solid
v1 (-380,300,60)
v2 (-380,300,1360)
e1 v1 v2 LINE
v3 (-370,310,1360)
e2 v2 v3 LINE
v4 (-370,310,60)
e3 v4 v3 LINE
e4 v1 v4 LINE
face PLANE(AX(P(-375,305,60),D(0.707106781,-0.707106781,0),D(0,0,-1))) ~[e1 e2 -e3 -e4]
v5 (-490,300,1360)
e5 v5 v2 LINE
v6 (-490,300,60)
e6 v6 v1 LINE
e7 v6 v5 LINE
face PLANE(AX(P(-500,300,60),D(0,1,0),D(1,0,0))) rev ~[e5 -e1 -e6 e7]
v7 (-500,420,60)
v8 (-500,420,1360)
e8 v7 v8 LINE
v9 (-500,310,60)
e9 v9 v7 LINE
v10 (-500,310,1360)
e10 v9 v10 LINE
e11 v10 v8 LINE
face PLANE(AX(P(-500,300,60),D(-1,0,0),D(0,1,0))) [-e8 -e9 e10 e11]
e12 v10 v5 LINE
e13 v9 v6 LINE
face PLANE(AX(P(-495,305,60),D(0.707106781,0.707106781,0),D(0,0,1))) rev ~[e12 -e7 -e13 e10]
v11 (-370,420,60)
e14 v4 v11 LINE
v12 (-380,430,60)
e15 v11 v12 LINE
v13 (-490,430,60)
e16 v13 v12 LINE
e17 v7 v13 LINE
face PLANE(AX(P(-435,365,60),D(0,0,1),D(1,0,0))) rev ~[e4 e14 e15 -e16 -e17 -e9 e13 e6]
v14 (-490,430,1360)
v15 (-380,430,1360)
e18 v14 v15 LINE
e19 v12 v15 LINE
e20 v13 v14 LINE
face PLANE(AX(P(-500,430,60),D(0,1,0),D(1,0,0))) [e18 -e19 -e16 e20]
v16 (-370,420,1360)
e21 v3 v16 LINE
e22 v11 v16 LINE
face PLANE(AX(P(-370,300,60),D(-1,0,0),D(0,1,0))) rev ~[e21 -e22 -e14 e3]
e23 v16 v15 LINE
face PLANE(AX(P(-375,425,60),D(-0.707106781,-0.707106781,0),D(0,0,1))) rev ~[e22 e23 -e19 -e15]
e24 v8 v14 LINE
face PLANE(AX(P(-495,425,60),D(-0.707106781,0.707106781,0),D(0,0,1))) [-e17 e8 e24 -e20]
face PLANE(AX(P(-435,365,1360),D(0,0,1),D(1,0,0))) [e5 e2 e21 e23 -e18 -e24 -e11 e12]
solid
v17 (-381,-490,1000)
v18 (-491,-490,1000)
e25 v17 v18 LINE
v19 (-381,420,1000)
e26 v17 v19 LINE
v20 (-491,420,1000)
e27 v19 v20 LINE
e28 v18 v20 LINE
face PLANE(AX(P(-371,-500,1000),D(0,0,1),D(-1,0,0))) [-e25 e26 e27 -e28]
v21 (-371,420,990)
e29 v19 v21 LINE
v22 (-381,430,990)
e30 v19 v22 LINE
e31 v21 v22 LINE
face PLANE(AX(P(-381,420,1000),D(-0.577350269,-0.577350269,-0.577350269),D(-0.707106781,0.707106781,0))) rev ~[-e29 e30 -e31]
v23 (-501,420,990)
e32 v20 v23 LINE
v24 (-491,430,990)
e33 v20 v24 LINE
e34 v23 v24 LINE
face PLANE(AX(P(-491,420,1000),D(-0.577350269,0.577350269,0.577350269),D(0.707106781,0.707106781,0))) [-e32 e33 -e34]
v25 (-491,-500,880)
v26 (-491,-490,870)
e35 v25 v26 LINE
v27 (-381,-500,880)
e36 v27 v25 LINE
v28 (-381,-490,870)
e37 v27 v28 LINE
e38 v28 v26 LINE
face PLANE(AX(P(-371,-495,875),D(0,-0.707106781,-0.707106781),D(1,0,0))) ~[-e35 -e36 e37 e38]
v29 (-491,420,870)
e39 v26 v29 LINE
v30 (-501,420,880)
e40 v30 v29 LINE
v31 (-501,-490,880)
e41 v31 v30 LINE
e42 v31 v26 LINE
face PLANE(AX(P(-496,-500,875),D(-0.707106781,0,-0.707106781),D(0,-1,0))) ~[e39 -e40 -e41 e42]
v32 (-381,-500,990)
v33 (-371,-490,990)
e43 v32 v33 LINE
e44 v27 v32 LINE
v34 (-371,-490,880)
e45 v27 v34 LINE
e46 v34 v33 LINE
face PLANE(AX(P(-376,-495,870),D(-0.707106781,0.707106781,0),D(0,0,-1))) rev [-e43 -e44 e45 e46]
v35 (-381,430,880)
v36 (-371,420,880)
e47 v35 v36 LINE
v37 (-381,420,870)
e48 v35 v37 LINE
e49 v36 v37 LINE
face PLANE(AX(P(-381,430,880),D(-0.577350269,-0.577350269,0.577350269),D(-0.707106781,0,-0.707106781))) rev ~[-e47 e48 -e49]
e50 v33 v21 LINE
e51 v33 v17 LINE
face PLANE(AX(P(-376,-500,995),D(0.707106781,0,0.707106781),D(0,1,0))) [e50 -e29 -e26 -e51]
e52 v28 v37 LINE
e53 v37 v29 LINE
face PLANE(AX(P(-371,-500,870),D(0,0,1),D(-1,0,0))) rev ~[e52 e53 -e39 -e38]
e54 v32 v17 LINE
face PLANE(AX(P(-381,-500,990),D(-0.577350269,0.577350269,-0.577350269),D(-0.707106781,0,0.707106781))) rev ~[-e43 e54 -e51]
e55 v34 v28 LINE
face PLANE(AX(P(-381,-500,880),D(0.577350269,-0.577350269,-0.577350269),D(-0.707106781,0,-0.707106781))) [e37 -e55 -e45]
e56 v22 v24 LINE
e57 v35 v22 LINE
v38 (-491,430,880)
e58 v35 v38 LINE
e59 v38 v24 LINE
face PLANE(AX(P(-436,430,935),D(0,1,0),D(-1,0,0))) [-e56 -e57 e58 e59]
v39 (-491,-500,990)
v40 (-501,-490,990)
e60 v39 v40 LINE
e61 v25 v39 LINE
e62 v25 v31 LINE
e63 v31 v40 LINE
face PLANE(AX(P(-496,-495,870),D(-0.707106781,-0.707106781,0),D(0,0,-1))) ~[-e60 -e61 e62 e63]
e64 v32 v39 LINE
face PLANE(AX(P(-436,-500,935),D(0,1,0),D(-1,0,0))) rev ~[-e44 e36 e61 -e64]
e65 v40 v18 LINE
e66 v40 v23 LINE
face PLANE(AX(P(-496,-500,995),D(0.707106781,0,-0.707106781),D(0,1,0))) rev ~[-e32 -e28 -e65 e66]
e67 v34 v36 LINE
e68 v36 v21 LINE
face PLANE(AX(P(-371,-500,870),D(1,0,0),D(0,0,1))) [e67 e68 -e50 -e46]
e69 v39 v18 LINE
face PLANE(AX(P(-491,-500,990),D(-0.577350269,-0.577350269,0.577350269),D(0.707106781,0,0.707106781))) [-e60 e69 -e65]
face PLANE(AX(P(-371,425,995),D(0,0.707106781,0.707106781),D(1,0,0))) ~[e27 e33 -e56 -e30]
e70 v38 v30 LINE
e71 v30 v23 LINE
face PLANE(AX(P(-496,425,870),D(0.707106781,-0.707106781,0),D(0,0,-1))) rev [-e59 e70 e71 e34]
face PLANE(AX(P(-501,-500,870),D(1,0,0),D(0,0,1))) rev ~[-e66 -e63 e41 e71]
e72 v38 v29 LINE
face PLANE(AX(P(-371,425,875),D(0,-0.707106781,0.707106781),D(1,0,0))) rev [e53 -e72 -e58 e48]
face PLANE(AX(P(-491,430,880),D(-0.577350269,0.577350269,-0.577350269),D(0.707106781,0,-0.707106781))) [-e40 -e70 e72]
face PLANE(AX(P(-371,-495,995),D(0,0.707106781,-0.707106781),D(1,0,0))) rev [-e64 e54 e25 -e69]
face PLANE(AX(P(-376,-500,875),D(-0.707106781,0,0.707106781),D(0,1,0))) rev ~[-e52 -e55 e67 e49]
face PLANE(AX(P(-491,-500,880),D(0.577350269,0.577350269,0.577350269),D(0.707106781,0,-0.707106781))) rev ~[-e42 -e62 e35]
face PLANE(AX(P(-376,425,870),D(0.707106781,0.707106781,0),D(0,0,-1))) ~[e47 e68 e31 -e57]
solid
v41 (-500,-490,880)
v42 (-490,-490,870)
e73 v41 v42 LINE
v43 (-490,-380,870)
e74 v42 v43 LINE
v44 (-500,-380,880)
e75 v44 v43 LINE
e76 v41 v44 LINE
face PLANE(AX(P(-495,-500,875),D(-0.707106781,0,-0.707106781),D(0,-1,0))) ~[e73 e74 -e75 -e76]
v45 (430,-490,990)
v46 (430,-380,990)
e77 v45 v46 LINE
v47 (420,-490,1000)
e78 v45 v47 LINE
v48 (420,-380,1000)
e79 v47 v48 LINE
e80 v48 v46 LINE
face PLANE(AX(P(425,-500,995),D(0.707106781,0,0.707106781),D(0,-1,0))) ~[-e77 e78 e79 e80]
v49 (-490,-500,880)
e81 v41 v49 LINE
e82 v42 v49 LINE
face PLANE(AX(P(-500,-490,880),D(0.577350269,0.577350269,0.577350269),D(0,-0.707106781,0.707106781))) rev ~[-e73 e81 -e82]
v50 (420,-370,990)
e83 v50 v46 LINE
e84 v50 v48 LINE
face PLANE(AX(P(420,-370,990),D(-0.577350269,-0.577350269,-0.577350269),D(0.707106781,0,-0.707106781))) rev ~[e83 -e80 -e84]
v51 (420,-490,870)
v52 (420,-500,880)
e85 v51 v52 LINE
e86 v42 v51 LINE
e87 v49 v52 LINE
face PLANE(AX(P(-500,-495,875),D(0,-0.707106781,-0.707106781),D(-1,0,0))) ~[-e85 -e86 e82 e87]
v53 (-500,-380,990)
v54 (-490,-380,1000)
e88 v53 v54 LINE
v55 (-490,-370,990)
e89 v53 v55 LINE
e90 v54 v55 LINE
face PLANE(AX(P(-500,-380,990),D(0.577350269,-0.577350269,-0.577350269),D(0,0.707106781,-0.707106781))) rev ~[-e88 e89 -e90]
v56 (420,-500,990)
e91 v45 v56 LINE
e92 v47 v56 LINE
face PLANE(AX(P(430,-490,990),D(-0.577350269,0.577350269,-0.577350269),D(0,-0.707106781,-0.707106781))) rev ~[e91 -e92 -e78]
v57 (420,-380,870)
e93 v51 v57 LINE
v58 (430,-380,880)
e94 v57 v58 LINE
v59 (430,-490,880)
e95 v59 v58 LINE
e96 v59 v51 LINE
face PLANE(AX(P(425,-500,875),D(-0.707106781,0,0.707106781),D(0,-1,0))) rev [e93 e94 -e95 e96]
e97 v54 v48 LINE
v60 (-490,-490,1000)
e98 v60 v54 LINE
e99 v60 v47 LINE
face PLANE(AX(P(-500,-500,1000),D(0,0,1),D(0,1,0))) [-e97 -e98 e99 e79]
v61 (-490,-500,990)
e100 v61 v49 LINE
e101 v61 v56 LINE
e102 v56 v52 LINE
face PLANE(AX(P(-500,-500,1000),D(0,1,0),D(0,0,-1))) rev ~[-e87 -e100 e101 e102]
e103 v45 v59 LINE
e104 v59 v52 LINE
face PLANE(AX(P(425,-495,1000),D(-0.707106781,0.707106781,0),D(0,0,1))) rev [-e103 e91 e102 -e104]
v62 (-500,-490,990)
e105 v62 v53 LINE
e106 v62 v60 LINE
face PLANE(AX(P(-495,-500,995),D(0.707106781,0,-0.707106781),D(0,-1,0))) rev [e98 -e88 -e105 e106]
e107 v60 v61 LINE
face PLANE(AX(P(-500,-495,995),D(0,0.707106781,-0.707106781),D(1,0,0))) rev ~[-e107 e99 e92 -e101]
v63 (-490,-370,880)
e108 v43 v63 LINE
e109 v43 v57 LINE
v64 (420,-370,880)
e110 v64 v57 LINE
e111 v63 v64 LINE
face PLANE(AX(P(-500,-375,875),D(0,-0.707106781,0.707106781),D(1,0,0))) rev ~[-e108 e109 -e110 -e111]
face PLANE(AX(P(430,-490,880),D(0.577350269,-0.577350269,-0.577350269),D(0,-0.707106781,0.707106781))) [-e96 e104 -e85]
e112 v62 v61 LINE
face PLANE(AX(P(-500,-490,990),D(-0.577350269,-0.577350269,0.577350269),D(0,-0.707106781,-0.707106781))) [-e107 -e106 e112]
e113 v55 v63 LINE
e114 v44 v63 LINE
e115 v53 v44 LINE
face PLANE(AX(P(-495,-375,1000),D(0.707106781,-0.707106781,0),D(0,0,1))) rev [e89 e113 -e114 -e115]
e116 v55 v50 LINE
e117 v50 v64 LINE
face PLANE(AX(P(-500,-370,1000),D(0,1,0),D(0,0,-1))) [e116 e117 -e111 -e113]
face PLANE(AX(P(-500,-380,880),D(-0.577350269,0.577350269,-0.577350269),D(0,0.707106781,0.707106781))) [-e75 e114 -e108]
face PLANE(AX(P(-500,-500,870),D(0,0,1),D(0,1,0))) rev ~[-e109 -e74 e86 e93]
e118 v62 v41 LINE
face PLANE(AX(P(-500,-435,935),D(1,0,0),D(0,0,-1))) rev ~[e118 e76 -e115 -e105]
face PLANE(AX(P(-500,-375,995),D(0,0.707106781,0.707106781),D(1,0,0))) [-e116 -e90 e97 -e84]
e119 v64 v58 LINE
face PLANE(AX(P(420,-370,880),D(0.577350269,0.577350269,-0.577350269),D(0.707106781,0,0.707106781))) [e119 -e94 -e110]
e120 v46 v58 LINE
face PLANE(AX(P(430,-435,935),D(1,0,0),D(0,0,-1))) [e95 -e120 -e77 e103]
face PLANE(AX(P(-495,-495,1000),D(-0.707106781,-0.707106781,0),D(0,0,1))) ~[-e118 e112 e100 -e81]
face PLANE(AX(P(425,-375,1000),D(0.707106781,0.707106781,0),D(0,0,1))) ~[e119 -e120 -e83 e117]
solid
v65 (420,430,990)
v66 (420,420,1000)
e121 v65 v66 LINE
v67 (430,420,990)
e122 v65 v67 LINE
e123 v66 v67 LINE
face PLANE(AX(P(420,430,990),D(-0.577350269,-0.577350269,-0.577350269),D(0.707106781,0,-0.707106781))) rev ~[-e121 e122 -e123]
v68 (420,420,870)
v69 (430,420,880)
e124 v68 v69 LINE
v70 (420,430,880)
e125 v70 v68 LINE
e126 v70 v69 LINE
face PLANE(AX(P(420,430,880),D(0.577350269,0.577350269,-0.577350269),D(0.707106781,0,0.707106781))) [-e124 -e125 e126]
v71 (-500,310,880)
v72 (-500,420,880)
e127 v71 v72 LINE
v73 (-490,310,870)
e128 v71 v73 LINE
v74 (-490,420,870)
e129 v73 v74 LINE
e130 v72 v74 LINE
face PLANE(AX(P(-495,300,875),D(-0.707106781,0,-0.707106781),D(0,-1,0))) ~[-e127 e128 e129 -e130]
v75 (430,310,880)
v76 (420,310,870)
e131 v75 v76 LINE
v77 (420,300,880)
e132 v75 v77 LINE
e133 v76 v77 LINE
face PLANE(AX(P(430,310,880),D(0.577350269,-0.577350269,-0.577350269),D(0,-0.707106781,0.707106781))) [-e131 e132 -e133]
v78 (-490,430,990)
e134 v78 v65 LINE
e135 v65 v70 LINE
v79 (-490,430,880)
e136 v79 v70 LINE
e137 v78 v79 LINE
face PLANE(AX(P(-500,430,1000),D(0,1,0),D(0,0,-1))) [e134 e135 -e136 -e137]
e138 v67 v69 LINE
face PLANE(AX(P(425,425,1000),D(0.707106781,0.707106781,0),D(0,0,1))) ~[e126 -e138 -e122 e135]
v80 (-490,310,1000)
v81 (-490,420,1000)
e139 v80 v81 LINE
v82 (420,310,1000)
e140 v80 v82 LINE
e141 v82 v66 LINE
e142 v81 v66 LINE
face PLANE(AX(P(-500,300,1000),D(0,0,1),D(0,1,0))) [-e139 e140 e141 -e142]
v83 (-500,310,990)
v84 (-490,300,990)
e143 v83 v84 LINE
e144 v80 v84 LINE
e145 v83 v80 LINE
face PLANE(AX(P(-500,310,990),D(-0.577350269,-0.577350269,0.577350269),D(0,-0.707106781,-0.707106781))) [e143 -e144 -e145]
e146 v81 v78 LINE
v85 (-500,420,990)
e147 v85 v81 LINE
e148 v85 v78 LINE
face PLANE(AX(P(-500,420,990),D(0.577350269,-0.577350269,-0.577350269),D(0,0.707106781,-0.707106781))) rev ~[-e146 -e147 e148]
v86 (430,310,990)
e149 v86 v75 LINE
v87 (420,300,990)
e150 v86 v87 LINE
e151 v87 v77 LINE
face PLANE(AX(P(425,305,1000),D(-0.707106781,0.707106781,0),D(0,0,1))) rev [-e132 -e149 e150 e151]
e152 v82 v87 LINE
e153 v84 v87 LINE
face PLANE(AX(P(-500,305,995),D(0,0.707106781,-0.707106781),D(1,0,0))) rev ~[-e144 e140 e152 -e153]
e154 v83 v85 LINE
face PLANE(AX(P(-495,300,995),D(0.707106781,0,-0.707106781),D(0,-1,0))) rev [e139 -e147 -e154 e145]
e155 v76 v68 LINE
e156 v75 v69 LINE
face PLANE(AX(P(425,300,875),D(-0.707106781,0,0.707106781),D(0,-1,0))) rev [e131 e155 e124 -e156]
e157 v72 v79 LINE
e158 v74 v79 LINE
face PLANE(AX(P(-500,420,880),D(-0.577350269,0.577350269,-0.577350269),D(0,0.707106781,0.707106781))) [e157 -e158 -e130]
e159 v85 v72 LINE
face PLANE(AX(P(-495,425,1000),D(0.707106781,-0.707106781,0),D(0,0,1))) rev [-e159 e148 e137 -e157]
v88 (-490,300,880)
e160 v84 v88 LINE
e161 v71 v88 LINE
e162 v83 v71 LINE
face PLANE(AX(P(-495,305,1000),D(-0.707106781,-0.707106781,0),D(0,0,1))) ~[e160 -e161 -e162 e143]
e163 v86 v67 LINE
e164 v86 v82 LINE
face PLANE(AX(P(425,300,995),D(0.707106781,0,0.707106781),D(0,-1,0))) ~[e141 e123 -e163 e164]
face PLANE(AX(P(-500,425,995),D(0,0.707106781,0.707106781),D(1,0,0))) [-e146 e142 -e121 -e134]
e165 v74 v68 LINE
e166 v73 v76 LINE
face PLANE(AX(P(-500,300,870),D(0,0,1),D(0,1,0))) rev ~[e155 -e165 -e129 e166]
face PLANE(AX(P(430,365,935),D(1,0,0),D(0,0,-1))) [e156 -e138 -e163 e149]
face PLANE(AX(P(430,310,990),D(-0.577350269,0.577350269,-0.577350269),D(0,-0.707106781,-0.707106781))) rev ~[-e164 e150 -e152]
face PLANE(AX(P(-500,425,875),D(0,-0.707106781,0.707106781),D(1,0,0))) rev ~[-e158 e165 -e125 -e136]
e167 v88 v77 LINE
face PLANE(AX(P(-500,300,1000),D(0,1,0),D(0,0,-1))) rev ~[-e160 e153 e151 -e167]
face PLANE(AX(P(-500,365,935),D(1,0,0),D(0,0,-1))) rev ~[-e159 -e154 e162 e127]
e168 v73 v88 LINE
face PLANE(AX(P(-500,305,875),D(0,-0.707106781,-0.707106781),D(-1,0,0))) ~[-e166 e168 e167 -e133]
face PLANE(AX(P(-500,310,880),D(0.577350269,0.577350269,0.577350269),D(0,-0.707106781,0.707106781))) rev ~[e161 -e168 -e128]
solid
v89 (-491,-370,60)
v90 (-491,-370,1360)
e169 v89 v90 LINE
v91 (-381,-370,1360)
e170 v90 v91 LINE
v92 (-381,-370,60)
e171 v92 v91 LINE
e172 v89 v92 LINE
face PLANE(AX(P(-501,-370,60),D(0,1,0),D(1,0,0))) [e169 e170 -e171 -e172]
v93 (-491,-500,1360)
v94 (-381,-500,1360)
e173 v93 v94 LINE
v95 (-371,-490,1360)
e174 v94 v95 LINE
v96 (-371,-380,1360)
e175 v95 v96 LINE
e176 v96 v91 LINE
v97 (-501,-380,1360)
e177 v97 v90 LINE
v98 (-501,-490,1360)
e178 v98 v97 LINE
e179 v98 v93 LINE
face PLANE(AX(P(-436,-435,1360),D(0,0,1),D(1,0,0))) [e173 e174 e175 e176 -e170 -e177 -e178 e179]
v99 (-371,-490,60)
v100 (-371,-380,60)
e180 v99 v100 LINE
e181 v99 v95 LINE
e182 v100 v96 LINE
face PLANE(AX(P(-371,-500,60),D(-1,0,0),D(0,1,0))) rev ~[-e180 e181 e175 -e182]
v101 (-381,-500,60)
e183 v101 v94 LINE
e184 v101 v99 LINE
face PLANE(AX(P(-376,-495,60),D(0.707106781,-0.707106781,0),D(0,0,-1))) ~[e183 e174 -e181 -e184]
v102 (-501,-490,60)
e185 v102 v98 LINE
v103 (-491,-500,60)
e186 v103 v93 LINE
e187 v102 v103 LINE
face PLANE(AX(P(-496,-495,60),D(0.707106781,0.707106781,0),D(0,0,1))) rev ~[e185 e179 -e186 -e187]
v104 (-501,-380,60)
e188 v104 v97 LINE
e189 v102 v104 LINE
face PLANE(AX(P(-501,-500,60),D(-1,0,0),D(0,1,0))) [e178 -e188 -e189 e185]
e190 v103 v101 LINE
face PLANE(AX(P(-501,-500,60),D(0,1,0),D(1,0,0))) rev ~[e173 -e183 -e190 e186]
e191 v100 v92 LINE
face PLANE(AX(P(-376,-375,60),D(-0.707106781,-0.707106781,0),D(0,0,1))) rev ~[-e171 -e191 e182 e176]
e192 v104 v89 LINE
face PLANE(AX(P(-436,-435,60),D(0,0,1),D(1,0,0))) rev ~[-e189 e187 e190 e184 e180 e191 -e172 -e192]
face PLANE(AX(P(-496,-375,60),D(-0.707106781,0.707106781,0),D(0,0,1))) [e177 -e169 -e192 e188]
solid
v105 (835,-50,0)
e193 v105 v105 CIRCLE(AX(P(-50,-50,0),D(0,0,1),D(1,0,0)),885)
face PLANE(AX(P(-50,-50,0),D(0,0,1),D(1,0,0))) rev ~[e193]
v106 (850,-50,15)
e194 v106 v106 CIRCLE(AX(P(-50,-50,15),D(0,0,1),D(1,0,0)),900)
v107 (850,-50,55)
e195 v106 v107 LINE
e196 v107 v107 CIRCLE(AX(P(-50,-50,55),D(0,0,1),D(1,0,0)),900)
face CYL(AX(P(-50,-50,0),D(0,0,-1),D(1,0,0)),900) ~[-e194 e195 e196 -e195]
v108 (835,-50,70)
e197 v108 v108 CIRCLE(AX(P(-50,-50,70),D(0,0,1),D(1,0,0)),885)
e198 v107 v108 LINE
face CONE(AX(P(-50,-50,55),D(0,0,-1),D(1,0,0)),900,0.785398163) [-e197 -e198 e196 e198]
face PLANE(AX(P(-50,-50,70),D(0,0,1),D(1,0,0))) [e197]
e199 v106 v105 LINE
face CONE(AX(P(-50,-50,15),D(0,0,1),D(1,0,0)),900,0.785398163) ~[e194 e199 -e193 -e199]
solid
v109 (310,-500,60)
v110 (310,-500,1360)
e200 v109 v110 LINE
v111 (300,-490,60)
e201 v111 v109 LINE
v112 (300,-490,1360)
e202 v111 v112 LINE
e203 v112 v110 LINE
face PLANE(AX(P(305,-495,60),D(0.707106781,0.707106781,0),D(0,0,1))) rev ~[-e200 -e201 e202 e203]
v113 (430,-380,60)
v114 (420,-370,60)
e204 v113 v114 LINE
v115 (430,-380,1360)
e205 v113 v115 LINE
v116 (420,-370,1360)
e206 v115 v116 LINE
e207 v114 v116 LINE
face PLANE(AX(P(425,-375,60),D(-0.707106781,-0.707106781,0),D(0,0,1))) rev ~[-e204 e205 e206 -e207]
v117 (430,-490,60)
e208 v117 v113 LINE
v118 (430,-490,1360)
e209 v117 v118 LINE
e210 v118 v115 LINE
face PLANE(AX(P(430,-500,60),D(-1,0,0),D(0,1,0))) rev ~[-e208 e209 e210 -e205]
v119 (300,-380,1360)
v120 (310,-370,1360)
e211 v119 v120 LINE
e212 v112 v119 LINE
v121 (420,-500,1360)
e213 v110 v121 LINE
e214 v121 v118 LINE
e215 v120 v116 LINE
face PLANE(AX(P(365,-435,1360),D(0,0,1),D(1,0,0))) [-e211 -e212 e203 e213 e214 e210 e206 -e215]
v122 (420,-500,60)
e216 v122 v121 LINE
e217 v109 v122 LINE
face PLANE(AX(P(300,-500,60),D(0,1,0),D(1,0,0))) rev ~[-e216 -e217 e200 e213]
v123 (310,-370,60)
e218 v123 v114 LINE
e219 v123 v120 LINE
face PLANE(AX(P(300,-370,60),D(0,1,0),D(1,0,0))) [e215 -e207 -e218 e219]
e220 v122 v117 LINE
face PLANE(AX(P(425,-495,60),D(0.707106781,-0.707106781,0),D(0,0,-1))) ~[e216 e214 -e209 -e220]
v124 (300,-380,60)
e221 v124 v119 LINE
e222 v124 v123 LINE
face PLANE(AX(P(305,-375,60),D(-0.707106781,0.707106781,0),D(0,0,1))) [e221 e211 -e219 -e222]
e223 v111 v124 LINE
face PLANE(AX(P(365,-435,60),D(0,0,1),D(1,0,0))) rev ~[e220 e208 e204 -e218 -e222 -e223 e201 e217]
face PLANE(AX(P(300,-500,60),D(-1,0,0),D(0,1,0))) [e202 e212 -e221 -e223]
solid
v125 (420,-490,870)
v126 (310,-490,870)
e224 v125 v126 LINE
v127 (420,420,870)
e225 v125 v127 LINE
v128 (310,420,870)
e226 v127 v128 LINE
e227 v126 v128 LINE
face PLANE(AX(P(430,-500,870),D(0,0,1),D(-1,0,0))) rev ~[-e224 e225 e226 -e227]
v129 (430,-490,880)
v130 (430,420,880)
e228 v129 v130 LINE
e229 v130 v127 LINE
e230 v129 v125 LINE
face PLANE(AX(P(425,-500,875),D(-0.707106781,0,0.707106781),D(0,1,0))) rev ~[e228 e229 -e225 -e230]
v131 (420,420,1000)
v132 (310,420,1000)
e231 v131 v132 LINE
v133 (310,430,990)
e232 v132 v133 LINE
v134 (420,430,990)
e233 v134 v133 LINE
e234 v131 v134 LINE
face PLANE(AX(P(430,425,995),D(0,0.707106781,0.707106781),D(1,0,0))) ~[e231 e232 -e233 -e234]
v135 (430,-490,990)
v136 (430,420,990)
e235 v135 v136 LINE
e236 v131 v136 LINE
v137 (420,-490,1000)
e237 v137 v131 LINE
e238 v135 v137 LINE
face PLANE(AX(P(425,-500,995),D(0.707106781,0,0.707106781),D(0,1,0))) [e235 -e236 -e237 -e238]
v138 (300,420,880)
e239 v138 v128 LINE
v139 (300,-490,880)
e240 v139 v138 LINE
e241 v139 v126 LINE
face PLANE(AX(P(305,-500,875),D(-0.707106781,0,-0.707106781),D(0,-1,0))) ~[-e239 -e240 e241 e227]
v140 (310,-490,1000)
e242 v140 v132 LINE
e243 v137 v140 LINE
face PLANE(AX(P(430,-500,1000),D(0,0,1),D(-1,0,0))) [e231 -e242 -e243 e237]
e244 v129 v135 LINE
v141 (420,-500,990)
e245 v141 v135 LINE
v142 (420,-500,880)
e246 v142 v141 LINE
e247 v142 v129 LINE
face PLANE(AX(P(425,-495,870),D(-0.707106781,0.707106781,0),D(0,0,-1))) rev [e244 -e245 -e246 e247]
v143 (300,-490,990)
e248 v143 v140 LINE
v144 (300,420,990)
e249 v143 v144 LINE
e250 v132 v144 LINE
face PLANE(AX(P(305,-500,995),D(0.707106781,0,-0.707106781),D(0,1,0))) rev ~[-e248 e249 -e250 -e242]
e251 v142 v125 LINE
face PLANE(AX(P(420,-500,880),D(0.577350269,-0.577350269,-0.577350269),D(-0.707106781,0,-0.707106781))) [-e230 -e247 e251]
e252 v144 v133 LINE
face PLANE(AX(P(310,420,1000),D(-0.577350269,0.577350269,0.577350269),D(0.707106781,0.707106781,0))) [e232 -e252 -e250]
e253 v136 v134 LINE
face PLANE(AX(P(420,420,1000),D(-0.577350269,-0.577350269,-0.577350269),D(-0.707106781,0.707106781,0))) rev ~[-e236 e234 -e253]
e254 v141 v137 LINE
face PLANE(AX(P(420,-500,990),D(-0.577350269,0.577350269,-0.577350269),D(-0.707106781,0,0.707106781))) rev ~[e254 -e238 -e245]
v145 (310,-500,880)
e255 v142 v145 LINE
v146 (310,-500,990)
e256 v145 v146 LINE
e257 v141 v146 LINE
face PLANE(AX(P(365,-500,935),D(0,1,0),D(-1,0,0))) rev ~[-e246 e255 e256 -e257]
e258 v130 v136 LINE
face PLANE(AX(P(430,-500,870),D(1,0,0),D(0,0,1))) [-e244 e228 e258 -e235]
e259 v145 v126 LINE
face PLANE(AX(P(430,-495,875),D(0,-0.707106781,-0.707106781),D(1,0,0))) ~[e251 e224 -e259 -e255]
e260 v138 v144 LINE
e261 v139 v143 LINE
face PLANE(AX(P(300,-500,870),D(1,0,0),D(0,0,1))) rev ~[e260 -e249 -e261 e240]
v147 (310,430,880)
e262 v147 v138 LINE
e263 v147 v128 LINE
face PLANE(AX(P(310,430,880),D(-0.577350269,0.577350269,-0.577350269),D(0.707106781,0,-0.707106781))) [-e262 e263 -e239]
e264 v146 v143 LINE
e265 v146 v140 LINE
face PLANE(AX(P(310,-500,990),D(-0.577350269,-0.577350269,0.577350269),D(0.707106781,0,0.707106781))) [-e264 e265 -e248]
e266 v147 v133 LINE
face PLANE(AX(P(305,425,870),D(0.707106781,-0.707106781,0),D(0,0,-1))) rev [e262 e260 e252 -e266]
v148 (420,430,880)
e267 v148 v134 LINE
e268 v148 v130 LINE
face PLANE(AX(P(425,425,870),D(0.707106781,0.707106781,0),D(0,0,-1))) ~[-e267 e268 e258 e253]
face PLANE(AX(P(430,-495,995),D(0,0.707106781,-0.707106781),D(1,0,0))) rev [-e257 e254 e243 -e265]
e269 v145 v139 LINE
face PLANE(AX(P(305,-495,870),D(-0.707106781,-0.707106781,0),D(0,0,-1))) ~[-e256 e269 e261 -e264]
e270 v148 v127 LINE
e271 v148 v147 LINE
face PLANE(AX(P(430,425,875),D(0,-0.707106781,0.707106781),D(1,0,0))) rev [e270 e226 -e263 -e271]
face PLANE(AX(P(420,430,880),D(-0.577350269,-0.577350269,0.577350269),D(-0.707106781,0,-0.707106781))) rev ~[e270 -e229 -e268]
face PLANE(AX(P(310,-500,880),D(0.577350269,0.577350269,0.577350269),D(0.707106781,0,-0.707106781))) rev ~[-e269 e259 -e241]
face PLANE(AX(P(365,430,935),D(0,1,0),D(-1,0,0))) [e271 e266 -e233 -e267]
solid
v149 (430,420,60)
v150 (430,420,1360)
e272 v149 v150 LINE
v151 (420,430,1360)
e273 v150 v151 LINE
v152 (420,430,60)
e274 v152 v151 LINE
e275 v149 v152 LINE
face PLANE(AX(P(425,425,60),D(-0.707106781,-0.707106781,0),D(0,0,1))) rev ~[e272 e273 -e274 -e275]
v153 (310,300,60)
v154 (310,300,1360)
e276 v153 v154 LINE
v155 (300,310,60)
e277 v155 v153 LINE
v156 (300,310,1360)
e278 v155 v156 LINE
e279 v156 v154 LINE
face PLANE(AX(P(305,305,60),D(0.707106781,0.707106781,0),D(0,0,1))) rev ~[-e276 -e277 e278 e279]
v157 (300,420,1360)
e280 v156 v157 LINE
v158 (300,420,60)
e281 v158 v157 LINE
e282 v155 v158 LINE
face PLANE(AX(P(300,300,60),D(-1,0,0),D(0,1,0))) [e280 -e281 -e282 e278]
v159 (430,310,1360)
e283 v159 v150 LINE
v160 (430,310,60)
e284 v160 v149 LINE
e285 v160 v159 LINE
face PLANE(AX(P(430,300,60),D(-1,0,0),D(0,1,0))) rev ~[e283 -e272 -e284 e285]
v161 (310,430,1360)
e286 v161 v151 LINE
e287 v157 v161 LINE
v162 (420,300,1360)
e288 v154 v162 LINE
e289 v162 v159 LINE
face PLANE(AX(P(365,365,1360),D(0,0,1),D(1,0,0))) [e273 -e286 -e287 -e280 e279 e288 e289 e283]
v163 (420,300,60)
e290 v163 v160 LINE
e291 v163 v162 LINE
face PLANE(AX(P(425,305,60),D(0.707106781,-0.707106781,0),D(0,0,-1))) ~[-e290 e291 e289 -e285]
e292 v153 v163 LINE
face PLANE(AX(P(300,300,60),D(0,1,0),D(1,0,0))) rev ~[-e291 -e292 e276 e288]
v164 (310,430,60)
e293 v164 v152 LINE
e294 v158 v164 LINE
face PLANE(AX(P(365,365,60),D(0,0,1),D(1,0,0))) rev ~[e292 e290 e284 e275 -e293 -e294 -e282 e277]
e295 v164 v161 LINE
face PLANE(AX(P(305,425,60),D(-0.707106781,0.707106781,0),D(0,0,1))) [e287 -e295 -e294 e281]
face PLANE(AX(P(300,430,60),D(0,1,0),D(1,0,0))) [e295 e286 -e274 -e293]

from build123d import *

# Parameters (mm, degrees)
CYLINDER_R      = 900
CYLINDER_DEPTH  = 70
CHAMFER_SIZE    = 15
BOX_W           = 130
BOX_H           = 130
BOX_DEPTH       = 1300
CHAMFER001_SIZE = 10
BOX001_W        = 130
BOX001_H        = 130
BOX001_DEPTH    = 1300
CHAMFER002_SIZE = 10
BOX002_W        = 130
BOX002_H        = 130
BOX002_DEPTH    = 1300
CHAMFER003_SIZE = 10
BOX003_W        = 130
BOX003_H        = 130
BOX003_DEPTH    = 1300
CHAMFER004_SIZE = 10
BOX004_W        = 130
BOX004_H        = 130
BOX004_DEPTH    = 930
CHAMFER005_SIZE = 10
BOX005_W        = 130
BOX005_H        = 130
BOX005_DEPTH    = 930
CHAMFER006_SIZE = 10
BOX006_W        = 130
BOX006_H        = 130
BOX006_DEPTH    = 930
CHAMFER007_SIZE = 10
BOX007_W        = 130
BOX007_H        = 130
BOX007_DEPTH    = 930
CHAMFER008_SIZE = 10


with BuildPart() as chamfer_body:
    # Cylinder → Cylinder (new body)
    with BuildSketch(Plane(origin=(-50, -50, 0), x_dir=(1, 0, 0), z_dir=(0, 0, 1))):
        Circle(CYLINDER_R)
    extrude(amount=CYLINDER_DEPTH)

    # Chamfer
    chamfer_edges = [chamfer_body.edges().sort_by_distance(p)[0] for p in [
        (-950, -50, 0),
        (-950, -50, 70),
    ]]
    chamfer(chamfer_edges, length=CHAMFER_SIZE)


with BuildPart() as chamfer001:
    # Box → Box (new body)
    with BuildSketch(Plane(origin=(-501, -500, 60), x_dir=(1, 0, 0), z_dir=(0, 0, 1))):
        with Locations((65, 65)):
            Rectangle(BOX_W, BOX_H)
    extrude(amount=BOX_DEPTH)

    # Chamfer001
    chamfer001_edges = [chamfer001.edges().sort_by_distance(p)[0] for p in [
        (-501, -500, 710),
        (-501, -370, 710),
        (-371, -500, 710),
        (-371, -370, 710),
    ]]
    chamfer(chamfer001_edges, length=CHAMFER001_SIZE)


with BuildPart() as chamfer002:
    # Box001 → Box001 (new body)
    with BuildSketch(Plane(origin=(300, -500, 60), x_dir=(1, 0, 0), z_dir=(0, 0, 1))):
        with Locations((65, 65)):
            Rectangle(BOX001_W, BOX001_H)
    extrude(amount=BOX001_DEPTH)

    # Chamfer002
    chamfer002_edges = [chamfer002.edges().sort_by_distance(p)[0] for p in [
        (300, -500, 710),
        (300, -370, 710),
        (430, -500, 710),
        (430, -370, 710),
    ]]
    chamfer(chamfer002_edges, length=CHAMFER002_SIZE)


with BuildPart() as chamfer003:
    # Box002 → Box002 (new body)
    with BuildSketch(Plane(origin=(300, 300, 60), x_dir=(1, 0, 0), z_dir=(0, 0, 1))):
        with Locations((65, 65)):
            Rectangle(BOX002_W, BOX002_H)
    extrude(amount=BOX002_DEPTH)

    # Chamfer003
    chamfer003_edges = [chamfer003.edges().sort_by_distance(p)[0] for p in [
        (300, 300, 710),
        (300, 430, 710),
        (430, 300, 710),
        (430, 430, 710),
    ]]
    chamfer(chamfer003_edges, length=CHAMFER003_SIZE)


with BuildPart() as chamfer004:
    # Box003 → Box003 (new body)
    with BuildSketch(Plane(origin=(-500, 300, 60), x_dir=(1, 0, 0), z_dir=(0, 0, 1))):
        with Locations((65, 65)):
            Rectangle(BOX003_W, BOX003_H)
    extrude(amount=BOX003_DEPTH)

    # Chamfer004
    chamfer004_edges = [chamfer004.edges().sort_by_distance(p)[0] for p in [
        (-500, 300, 710),
        (-500, 430, 710),
        (-370, 300, 710),
        (-370, 430, 710),
    ]]
    chamfer(chamfer004_edges, length=CHAMFER004_SIZE)


with BuildPart() as chamfer005:
    # Box004 → Box004 (new body)
    with BuildSketch(Plane(origin=(-500, 300, 1000), x_dir=(0, 0, -1), z_dir=(1, 0, 0))):
        with Locations((65, 65)):
            Rectangle(BOX004_W, BOX004_H)
    extrude(amount=BOX004_DEPTH)

    # Chamfer005
    chamfer005_edges = [chamfer005.edges().sort_by_distance(p)[0] for p in [
        (-35, 300, 1000),
        (430, 365, 1000),
        (-35, 430, 1000),
        (-500, 365, 1000),
        (-35, 300, 870),
        (430, 365, 870),
        (-35, 430, 870),
        (-500, 365, 870),
        (-500, 300, 935),
        (430, 300, 935),
        (-500, 430, 935),
        (430, 430, 935),
    ]]
    chamfer(chamfer005_edges, length=CHAMFER005_SIZE)


with BuildPart() as chamfer006:
    # Box005 → Box005 (new body)
    with BuildSketch(Plane(origin=(-500, -500, 1000), x_dir=(0, 0, -1), z_dir=(1, 0, 0))):
        with Locations((65, 65)):
            Rectangle(BOX005_W, BOX005_H)
    extrude(amount=BOX005_DEPTH)

    # Chamfer006
    chamfer006_edges = [chamfer006.edges().sort_by_distance(p)[0] for p in [
        (-35, -500, 1000),
        (430, -435, 1000),
        (-35, -370, 1000),
        (-500, -435, 1000),
        (-35, -500, 870),
        (430, -435, 870),
        (-35, -370, 870),
        (-500, -435, 870),
        (-500, -500, 935),
        (430, -500, 935),
        (-500, -370, 935),
        (430, -370, 935),
    ]]
    chamfer(chamfer006_edges, length=CHAMFER006_SIZE)


with BuildPart() as chamfer007:
    # Box006 → Box006 (new body)
    with BuildSketch(Plane(origin=(-371, -500, 870), x_dir=(-1, 0, 0), z_dir=(0, 1, 0))):
        with Locations((65, 65)):
            Rectangle(BOX006_W, BOX006_H)
    extrude(amount=BOX006_DEPTH)

    # Chamfer007
    chamfer007_edges = [chamfer007.edges().sort_by_distance(p)[0] for p in [
        (-371, -35, 870),
        (-371, 430, 935),
        (-371, -35, 1000),
        (-371, -500, 935),
        (-501, -35, 870),
        (-501, 430, 935),
        (-501, -35, 1000),
        (-501, -500, 935),
        (-436, -500, 870),
        (-436, 430, 870),
        (-436, -500, 1000),
        (-436, 430, 1000),
    ]]
    chamfer(chamfer007_edges, length=CHAMFER007_SIZE)


with BuildPart() as chamfer008:
    # Box007 → Box007 (new body)
    with BuildSketch(Plane(origin=(430, -500, 870), x_dir=(-1, 0, 0), z_dir=(0, 1, 0))):
        with Locations((65, 65)):
            Rectangle(BOX007_W, BOX007_H)
    extrude(amount=BOX007_DEPTH)

    # Chamfer008
    chamfer008_edges = [chamfer008.edges().sort_by_distance(p)[0] for p in [
        (430, -35, 870),
        (430, 430, 935),
        (430, -35, 1000),
        (430, -500, 935),
        (300, -35, 870),
        (300, 430, 935),
        (300, -35, 1000),
        (300, -500, 935),
        (365, -500, 870),
        (365, 430, 870),
        (365, -500, 1000),
        (365, 430, 1000),
    ]]
    chamfer(chamfer008_edges, length=CHAMFER008_SIZE)


solid = Compound([chamfer_body.part, chamfer001.part, chamfer002.part, chamfer003.part, chamfer004.part, chamfer005.part, chamfer006.part, chamfer007.part, chamfer008.part])
